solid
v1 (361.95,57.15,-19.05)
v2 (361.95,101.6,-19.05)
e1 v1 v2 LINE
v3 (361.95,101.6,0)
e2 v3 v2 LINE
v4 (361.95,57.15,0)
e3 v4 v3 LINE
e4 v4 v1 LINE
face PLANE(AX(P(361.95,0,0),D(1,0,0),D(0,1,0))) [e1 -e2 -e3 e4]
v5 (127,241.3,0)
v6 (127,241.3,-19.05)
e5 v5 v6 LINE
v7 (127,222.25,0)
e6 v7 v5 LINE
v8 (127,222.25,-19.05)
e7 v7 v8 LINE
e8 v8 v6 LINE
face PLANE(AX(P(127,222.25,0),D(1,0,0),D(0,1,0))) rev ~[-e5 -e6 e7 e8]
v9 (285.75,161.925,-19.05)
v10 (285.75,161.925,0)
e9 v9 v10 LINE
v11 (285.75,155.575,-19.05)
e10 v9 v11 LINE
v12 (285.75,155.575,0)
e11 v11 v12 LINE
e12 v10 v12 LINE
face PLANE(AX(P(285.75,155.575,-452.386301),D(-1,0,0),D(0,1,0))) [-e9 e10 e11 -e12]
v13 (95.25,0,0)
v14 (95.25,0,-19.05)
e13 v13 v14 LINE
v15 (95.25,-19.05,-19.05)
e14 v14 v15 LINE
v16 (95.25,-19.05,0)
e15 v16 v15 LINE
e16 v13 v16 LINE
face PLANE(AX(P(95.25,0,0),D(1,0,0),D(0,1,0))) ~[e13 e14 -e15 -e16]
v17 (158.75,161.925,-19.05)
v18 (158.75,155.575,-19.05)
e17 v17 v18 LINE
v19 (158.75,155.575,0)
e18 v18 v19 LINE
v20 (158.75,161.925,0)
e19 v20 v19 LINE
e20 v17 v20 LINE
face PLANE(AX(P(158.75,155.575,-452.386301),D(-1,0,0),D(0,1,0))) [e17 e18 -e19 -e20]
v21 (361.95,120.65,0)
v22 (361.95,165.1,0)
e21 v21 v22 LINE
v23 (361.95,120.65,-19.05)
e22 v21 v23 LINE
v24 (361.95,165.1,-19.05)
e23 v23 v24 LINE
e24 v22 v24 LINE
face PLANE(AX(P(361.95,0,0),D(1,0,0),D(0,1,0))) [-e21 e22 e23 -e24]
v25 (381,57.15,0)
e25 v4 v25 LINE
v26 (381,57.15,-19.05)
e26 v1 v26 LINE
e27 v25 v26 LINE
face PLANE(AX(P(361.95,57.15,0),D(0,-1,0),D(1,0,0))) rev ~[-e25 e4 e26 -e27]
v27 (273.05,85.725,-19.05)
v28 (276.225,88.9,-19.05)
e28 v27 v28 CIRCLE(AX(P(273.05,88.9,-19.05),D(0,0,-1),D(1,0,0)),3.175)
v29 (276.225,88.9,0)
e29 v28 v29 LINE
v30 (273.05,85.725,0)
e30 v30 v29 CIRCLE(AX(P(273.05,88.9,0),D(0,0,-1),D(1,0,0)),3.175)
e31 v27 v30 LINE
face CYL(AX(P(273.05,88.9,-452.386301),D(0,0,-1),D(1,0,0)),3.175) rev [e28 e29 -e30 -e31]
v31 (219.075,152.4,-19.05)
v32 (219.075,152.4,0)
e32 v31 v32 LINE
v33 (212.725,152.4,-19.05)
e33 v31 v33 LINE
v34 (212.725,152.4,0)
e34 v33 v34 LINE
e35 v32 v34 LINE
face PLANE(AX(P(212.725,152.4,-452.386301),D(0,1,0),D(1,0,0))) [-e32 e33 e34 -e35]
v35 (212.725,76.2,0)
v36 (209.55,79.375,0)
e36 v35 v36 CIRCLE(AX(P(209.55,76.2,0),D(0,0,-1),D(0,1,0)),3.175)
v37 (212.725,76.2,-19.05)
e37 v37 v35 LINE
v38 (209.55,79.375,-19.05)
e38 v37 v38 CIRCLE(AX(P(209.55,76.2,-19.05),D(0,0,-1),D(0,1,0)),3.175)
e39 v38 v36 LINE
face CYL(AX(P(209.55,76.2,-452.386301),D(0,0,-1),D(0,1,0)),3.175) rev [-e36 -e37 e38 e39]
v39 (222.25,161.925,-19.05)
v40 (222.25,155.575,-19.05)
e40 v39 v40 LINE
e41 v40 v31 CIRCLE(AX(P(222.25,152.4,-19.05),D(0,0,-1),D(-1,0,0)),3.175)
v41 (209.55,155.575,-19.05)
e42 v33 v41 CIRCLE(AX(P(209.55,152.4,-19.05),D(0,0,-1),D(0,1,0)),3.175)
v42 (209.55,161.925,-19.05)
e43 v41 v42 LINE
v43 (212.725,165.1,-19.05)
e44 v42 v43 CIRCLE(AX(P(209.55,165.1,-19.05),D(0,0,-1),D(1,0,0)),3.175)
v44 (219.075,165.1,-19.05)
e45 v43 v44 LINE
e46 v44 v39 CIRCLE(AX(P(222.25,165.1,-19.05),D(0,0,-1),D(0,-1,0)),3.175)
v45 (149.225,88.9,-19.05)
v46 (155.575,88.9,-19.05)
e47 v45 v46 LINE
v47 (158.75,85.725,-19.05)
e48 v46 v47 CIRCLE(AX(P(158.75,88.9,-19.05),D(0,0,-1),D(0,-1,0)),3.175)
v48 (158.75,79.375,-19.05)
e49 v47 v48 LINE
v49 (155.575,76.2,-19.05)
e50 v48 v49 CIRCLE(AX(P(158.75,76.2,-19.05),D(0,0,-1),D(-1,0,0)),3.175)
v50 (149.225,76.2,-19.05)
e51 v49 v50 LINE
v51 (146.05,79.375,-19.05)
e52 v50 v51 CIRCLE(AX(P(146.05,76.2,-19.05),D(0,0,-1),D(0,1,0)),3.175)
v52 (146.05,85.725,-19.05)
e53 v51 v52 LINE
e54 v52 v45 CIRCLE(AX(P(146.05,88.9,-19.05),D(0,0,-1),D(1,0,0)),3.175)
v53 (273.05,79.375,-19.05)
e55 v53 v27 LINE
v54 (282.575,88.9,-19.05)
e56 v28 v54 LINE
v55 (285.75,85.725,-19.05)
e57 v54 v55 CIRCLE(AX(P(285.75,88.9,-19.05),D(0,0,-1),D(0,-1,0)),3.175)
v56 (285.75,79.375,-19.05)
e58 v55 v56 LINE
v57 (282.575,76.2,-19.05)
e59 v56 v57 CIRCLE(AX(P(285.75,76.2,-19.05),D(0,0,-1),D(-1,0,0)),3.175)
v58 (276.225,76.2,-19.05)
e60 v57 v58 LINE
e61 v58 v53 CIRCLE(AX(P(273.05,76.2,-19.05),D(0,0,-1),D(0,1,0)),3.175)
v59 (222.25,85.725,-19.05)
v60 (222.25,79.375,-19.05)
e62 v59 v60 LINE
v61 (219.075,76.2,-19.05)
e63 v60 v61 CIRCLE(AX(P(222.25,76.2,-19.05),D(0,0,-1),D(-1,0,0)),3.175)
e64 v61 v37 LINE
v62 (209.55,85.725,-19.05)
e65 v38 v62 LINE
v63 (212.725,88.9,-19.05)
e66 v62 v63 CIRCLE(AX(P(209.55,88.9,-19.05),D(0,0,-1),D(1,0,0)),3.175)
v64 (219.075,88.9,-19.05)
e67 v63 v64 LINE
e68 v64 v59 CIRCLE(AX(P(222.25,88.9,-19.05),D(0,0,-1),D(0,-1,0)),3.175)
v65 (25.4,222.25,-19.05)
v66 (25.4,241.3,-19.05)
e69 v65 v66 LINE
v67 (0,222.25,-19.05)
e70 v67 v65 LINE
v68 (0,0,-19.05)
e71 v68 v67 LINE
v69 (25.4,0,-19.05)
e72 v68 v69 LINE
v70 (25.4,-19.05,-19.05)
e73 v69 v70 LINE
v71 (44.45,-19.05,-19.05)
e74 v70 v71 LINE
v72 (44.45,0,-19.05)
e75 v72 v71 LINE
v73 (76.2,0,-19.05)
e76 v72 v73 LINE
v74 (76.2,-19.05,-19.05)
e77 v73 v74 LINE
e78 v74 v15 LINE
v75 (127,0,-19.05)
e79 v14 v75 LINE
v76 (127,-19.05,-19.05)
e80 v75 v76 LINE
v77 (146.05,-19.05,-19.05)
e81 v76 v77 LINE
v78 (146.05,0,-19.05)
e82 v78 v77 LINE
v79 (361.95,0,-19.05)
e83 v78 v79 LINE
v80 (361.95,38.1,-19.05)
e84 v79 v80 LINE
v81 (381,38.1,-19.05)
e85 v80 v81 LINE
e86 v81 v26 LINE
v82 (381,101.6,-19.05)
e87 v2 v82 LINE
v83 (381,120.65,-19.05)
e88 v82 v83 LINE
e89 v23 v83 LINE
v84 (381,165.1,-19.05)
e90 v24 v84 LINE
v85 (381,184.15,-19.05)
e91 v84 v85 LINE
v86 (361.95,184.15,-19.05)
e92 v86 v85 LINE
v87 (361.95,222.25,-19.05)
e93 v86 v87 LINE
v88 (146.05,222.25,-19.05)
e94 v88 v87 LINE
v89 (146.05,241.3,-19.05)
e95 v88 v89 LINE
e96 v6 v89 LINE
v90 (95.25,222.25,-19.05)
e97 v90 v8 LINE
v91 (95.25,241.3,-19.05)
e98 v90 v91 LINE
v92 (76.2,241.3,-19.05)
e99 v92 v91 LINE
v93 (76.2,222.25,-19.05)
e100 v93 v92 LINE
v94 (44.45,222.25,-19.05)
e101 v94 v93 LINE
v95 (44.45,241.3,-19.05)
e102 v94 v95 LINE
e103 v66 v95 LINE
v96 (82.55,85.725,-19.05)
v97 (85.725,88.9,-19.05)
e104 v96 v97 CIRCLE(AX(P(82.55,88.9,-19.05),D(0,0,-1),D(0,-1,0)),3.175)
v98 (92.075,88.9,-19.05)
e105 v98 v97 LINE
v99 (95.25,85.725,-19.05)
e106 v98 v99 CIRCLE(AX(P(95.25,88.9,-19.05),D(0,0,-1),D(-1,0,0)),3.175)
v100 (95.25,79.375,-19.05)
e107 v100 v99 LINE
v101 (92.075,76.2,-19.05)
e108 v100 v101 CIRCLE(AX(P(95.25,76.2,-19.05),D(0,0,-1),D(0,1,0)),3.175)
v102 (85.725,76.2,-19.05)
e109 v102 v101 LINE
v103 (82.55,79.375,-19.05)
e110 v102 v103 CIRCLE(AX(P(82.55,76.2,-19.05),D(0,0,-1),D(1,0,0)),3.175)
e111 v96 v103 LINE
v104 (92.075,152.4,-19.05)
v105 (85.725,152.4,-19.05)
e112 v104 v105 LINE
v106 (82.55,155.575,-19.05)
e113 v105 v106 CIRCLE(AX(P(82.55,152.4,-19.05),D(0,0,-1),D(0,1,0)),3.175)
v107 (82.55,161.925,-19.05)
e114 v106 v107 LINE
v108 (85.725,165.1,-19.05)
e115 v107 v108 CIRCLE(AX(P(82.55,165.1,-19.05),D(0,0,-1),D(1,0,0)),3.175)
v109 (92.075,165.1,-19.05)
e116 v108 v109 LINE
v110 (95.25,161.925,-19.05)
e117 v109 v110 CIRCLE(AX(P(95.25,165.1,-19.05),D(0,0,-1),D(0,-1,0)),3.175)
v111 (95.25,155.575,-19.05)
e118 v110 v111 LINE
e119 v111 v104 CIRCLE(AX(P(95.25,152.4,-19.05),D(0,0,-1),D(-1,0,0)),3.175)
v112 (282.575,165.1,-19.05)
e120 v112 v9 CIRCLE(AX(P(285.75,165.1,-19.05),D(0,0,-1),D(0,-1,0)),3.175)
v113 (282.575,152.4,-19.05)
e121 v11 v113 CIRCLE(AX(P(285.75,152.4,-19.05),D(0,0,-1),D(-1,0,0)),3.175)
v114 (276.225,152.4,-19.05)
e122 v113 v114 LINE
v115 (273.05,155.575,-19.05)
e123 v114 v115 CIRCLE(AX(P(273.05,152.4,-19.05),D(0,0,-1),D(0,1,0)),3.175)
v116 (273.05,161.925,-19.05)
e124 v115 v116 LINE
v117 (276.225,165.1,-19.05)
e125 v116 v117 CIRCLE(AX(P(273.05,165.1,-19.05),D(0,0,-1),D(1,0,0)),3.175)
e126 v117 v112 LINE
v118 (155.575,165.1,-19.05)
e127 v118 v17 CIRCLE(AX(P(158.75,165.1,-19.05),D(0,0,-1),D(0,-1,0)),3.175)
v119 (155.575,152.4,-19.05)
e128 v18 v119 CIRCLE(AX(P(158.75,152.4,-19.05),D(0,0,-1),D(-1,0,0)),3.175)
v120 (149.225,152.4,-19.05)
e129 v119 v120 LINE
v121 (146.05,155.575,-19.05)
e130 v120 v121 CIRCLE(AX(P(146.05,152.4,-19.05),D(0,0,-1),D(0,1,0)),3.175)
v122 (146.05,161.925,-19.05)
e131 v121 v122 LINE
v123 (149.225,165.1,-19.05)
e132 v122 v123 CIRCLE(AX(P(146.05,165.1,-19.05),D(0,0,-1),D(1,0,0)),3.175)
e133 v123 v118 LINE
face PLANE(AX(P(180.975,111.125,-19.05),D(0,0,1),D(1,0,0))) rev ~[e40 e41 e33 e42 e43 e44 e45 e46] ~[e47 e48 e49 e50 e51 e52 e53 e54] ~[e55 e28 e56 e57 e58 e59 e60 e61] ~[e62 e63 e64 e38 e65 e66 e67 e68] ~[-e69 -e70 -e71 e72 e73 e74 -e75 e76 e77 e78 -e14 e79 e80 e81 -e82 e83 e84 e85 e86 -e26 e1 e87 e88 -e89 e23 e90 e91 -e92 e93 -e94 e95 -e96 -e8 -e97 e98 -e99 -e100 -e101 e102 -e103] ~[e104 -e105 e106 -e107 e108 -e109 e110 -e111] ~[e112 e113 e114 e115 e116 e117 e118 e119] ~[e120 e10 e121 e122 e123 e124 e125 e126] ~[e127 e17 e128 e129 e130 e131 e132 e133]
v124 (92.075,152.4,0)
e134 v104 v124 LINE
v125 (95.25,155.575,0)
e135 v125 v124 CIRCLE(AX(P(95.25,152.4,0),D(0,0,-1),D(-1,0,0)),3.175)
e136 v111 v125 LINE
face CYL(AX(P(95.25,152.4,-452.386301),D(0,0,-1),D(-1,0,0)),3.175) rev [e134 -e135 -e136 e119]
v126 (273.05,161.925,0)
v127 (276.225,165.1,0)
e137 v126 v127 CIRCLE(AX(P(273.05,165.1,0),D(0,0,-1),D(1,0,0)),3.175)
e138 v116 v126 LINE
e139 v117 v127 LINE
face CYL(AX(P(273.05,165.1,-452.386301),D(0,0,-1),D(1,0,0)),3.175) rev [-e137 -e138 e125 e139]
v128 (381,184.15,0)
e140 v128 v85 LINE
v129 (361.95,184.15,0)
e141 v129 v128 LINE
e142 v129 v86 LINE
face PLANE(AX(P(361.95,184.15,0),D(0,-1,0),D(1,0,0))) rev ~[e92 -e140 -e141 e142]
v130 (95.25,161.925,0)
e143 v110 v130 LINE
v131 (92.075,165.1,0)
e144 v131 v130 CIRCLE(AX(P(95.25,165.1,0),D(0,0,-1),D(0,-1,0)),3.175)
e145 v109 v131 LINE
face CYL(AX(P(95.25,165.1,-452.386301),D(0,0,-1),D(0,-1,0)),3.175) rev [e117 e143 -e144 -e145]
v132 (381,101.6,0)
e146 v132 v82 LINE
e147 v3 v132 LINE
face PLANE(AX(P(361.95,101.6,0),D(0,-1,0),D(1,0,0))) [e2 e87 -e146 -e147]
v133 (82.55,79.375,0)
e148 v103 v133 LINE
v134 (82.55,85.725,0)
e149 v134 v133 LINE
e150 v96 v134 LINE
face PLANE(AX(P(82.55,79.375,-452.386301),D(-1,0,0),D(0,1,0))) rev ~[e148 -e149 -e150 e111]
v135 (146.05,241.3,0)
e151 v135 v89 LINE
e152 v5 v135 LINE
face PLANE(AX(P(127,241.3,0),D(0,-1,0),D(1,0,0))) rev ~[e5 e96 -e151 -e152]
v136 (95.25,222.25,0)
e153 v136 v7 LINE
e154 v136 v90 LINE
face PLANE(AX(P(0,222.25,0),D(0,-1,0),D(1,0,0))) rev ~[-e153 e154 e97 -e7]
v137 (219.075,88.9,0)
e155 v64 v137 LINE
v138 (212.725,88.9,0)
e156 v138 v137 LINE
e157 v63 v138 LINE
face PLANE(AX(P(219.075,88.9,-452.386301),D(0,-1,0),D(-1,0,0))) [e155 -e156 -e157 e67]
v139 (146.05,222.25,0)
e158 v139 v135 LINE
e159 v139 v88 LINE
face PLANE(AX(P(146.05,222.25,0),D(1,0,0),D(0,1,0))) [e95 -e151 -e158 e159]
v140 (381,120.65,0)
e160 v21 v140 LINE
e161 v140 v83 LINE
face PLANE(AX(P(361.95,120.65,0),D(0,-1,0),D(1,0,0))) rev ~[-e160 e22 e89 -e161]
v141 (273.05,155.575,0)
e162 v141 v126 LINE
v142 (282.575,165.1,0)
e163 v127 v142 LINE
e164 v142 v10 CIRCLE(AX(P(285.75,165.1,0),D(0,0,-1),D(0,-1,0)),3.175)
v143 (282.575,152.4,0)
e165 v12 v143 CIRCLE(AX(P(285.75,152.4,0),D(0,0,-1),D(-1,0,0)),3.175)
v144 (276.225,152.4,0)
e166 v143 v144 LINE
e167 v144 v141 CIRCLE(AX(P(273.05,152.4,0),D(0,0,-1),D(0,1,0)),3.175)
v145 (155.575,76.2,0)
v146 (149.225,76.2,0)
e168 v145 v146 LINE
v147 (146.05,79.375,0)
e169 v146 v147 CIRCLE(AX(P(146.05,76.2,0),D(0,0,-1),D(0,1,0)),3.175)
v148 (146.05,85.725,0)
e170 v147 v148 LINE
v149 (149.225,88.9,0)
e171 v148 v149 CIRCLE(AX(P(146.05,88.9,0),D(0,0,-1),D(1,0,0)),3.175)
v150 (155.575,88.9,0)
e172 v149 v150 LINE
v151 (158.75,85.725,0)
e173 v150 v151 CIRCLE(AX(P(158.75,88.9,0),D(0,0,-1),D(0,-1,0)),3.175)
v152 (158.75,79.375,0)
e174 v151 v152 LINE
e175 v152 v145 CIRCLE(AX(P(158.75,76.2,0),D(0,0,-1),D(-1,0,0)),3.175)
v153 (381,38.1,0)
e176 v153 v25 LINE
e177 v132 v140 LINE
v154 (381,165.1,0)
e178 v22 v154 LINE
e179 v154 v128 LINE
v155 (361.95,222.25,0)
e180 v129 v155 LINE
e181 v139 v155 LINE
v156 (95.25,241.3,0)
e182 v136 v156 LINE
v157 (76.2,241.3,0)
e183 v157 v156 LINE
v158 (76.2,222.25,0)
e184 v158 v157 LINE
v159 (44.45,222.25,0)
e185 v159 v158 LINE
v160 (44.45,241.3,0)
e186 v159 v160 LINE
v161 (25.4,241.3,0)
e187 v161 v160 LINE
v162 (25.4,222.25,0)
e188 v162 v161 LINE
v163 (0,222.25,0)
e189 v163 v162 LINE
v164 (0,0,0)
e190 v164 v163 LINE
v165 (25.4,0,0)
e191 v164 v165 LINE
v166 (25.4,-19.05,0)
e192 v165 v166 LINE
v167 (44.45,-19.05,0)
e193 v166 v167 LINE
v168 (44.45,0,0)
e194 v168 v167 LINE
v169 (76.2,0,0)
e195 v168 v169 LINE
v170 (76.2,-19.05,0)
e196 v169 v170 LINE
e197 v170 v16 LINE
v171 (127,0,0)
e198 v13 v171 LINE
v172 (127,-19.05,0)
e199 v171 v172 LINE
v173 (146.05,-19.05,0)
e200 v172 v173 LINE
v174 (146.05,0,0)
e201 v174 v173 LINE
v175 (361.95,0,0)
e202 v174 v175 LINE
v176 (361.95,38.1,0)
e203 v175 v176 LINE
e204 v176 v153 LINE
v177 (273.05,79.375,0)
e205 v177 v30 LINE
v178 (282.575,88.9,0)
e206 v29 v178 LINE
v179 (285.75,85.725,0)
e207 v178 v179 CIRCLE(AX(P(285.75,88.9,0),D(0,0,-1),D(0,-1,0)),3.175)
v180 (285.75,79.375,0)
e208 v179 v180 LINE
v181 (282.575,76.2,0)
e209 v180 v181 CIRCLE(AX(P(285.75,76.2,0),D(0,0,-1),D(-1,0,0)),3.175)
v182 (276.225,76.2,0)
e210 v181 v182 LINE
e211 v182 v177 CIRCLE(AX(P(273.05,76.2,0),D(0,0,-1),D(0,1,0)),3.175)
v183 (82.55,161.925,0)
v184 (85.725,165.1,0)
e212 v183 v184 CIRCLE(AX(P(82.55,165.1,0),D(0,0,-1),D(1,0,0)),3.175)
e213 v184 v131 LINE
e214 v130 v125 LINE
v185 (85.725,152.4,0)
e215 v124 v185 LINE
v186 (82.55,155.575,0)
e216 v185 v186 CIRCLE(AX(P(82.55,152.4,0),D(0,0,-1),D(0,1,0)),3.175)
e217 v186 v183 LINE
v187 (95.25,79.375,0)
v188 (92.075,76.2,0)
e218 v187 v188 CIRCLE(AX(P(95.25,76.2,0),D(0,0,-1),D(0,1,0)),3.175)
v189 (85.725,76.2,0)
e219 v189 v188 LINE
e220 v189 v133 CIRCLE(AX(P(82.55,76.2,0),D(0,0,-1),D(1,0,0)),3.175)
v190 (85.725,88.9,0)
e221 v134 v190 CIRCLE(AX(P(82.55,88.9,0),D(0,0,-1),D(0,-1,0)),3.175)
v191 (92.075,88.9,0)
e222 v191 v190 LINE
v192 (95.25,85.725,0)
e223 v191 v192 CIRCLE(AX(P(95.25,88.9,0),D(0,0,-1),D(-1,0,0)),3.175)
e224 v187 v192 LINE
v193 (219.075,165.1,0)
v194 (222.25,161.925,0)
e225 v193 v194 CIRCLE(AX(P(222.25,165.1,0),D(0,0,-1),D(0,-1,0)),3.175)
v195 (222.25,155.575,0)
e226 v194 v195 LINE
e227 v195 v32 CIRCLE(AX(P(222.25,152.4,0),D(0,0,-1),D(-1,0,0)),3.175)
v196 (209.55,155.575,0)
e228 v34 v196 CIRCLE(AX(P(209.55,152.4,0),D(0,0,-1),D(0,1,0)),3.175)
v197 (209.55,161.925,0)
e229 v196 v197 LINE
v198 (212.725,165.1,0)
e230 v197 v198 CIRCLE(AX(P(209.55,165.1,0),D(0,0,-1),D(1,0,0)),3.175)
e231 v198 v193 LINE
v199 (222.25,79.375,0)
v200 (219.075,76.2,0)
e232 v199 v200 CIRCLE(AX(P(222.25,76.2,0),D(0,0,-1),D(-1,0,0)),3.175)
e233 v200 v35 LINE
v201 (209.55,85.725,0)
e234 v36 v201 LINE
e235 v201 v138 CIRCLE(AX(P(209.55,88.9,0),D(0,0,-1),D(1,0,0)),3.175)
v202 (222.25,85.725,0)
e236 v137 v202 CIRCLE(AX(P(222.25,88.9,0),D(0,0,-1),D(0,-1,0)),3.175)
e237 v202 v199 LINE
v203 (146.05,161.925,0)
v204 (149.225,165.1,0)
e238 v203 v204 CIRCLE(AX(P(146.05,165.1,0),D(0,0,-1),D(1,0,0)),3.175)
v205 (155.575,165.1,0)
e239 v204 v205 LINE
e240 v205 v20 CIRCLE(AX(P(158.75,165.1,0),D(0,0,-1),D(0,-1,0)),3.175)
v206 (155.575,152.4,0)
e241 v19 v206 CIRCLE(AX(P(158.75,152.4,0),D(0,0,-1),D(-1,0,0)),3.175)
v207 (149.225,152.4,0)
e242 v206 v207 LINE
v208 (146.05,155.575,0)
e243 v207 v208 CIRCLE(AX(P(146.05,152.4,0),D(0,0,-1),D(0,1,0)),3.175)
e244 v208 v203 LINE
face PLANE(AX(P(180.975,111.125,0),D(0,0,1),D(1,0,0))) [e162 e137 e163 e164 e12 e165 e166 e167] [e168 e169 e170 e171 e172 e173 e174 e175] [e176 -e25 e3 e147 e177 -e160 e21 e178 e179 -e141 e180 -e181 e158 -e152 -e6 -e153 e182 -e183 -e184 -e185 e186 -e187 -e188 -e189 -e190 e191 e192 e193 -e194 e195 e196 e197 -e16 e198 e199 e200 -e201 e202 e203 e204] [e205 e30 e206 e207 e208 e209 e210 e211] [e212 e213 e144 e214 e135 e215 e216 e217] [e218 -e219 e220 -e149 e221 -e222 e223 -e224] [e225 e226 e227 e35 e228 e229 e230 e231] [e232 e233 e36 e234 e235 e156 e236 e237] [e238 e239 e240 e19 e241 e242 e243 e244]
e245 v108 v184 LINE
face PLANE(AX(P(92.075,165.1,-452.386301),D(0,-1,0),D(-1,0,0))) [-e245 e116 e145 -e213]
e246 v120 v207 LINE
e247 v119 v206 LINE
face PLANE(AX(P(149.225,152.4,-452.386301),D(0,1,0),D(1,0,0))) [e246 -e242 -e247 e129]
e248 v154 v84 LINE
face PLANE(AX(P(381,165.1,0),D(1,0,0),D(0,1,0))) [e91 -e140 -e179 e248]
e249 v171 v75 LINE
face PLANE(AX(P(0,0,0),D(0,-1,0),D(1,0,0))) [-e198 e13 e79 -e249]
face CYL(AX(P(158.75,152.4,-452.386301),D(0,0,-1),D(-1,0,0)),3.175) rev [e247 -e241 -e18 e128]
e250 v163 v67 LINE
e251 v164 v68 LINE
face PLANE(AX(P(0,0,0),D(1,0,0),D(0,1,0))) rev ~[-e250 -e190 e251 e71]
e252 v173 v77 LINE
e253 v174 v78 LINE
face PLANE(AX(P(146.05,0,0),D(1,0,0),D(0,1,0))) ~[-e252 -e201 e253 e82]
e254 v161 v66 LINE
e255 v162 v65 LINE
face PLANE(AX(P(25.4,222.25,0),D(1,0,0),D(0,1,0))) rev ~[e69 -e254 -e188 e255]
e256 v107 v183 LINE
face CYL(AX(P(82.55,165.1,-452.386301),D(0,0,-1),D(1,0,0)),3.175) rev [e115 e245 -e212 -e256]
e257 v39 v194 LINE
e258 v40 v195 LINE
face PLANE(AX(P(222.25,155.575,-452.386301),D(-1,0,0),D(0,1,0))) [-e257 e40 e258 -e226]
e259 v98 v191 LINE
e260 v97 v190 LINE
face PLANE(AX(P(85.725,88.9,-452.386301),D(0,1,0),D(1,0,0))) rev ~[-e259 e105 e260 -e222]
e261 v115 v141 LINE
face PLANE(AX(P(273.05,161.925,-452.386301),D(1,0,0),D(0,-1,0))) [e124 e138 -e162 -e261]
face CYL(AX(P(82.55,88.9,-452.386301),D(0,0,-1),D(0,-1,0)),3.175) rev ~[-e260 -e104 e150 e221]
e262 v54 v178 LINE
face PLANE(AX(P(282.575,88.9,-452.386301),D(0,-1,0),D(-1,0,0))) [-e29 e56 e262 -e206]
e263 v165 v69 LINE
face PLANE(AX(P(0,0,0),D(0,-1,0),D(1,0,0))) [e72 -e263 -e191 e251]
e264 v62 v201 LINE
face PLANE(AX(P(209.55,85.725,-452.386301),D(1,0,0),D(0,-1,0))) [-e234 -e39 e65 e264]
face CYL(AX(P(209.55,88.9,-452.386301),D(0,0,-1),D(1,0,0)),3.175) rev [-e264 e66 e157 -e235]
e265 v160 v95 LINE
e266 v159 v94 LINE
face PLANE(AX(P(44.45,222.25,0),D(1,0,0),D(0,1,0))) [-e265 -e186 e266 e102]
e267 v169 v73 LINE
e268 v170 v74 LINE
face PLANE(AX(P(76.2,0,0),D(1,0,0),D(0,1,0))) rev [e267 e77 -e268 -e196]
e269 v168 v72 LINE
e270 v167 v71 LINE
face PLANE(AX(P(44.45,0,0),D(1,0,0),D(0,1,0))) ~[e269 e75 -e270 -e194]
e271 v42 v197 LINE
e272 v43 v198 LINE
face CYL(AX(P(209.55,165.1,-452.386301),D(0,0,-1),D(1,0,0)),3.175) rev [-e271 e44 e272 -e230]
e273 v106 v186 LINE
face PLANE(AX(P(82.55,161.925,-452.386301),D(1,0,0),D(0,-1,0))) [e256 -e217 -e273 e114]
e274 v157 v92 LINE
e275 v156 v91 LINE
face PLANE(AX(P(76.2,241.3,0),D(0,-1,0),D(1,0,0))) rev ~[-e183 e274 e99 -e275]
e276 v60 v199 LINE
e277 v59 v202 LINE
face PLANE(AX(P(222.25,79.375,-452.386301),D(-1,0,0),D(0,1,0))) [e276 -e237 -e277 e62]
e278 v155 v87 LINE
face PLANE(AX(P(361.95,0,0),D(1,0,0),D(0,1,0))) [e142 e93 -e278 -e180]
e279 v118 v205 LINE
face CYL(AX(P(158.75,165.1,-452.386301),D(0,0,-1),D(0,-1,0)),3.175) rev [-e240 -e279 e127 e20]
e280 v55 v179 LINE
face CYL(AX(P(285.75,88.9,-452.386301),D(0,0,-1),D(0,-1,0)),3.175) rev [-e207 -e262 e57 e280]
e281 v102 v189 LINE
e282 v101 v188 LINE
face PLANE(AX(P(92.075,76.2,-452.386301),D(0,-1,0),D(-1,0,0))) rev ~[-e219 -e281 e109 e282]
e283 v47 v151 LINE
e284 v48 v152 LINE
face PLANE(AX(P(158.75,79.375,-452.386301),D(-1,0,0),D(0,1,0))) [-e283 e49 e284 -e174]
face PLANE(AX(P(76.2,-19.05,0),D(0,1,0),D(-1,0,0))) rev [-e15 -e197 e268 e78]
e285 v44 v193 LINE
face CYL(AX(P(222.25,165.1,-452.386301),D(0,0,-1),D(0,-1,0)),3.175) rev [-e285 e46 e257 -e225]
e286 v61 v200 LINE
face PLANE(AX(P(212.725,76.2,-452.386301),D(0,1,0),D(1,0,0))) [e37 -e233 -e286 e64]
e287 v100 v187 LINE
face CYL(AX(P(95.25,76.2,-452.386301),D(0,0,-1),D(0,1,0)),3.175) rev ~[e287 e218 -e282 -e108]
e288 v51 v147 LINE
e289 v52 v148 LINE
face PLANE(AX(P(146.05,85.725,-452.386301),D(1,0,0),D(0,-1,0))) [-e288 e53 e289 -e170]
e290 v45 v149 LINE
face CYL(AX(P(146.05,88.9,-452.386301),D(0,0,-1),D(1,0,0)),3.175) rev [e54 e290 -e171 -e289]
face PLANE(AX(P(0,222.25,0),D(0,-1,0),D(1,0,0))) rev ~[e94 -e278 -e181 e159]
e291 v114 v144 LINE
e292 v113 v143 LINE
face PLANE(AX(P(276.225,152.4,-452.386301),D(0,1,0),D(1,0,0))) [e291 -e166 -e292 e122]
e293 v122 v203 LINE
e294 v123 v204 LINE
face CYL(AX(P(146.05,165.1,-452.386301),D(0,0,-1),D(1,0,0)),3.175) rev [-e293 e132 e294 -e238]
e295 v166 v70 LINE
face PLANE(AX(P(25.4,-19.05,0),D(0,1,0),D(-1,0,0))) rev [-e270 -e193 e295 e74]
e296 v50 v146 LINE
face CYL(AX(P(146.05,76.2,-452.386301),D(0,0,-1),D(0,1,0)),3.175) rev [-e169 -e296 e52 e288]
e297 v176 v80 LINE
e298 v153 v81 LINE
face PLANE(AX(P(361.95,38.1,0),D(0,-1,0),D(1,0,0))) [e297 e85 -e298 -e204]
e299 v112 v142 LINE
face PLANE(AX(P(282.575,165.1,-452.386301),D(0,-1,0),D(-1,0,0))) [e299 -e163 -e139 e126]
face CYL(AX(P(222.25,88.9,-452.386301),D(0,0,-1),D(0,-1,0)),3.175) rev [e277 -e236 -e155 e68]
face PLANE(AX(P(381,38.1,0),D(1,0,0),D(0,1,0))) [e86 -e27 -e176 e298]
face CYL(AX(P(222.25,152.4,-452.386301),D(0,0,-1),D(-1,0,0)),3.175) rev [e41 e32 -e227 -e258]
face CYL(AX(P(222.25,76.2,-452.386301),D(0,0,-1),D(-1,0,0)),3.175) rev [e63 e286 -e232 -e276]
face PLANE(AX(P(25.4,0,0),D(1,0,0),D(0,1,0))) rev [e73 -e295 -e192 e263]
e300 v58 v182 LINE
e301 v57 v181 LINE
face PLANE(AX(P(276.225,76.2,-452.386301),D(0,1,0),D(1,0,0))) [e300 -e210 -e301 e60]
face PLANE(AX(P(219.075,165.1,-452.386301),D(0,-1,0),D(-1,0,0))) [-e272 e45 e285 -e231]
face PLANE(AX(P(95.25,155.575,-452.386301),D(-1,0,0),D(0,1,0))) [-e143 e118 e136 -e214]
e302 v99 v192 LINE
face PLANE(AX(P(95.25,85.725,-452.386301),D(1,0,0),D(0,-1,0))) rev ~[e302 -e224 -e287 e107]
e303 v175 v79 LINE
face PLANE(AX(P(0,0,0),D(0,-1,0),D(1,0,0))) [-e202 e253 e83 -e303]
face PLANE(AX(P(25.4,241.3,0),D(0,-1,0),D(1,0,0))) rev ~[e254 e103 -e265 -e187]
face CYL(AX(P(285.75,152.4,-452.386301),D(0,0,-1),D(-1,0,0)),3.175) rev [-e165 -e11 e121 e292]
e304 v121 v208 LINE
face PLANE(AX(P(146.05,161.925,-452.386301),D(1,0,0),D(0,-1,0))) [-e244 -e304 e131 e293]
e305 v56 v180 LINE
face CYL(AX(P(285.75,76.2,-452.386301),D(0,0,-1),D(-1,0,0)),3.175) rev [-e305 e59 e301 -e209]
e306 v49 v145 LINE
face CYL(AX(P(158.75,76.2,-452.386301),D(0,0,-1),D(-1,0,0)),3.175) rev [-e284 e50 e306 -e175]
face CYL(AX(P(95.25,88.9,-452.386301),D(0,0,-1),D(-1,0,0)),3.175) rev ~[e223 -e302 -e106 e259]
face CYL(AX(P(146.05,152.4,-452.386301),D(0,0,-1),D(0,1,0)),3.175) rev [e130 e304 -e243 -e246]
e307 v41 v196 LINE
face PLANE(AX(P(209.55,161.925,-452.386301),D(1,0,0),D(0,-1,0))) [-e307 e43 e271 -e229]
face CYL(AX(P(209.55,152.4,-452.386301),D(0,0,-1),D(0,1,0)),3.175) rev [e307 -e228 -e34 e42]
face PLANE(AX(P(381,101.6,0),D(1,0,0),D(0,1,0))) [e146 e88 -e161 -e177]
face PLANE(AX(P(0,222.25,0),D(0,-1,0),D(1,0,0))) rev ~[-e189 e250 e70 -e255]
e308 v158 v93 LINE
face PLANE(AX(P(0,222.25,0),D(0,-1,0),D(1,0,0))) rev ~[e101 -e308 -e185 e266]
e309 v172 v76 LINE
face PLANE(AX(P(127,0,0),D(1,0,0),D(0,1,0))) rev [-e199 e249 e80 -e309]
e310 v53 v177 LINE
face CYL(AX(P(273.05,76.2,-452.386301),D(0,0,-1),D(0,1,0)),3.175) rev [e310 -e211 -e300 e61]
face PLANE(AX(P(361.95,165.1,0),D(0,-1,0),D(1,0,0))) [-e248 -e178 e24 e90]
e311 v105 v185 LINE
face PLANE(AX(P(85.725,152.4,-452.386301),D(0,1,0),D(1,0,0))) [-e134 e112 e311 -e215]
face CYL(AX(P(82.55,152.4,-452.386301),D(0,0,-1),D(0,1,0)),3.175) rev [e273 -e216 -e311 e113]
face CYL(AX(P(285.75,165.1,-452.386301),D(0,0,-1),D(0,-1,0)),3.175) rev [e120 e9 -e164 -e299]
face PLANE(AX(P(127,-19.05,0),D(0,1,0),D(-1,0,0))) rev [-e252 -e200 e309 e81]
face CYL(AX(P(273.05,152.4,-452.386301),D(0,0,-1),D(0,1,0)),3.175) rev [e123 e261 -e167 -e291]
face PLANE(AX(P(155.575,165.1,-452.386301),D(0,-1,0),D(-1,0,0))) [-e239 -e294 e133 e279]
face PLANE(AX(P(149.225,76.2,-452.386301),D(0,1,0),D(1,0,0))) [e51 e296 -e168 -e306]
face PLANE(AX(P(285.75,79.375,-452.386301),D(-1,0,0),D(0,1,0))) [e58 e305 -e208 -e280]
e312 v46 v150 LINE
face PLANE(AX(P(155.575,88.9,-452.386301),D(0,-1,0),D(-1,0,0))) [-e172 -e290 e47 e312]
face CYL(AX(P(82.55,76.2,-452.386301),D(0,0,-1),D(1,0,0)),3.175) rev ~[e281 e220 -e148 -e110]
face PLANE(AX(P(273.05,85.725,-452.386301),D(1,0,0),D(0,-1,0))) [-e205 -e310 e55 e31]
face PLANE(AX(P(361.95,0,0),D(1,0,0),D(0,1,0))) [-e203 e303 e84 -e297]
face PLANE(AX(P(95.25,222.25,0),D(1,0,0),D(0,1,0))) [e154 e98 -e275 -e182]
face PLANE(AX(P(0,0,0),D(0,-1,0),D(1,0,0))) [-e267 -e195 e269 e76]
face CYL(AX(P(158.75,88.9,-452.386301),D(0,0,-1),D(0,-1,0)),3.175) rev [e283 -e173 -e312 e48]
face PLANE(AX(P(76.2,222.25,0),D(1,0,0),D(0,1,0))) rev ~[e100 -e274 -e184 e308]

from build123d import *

# Parameters (mm, degrees)
SKETCH1_W               = 361.95
SKETCH1_H               = 222.25
BOSS_EXTRUDE1_DEPTH     = 19.05
SKETCH3_W               = 19.05
SKETCH3_H               = 19.05
BOSS_EXTRUDE4_DEPTH     = 19.05
SKETCH5_W               = 19.05
SKETCH5_H               = 19.05
BOSS_EXTRUDE5_DEPTH     = 19.05
CUT_EXTRUDE2_DEPTH      = 452.386300745
CUT_EXTRUDE2_DEPTH_BACK = 452.386300745


with BuildPart() as part:
    # Sketch1 → Boss-Extrude1 (new body)
    with BuildSketch(Plane.XY):
        with Locations((180.975, 111.125)):
            Rectangle(SKETCH1_W, SKETCH1_H)
    extrude(amount=-BOSS_EXTRUDE1_DEPTH)

    # Sketch3 → Boss-Extrude4 (add)
    with BuildSketch(Plane.XY):
        with Locations((34.925, 231.775)):
            Rectangle(SKETCH3_W, SKETCH3_H)
        with Locations((85.725, 231.775)):
            Rectangle(SKETCH3_W, SKETCH3_H)
        with Locations((136.525, 231.775)):
            Rectangle(SKETCH3_W, SKETCH3_H)
    boss_extrude4 = extrude(amount=-BOSS_EXTRUDE4_DEPTH)

    # Mirror1: Boss-Extrude4 across plane
    add(boss_extrude4.mirror(Plane.ZX.offset(111.125)))

    # Sketch5 → Boss-Extrude5 (add)
    with BuildSketch(Plane.XY):
        with Locations((371.475, 174.625)):
            Rectangle(SKETCH5_W, SKETCH5_H)
        with Locations((371.475, 47.625)):
            Rectangle(SKETCH5_W, SKETCH5_H)
        with Locations((371.475, 111.125)):
            Rectangle(SKETCH5_W, SKETCH5_H)
    extrude(amount=-BOSS_EXTRUDE5_DEPTH)

    # Sketch6 → Cut-Extrude2 (cut, two sides: drawn at the far end of the back side and taken through both)
    with BuildSketch(Plane.XY.offset(-CUT_EXTRUDE2_DEPTH_BACK)):
        with BuildLine():
            Line((85.725, 88.9), (92.075, 88.9))
            ThreePointArc((92.075, 88.9), (97.49506403, 91.14506403), (95.25, 85.725))
            Line((95.25, 85.725), (95.25, 79.375))
            ThreePointArc((95.25, 79.375), (97.49506403, 73.95493597), (92.075, 76.2))
            Line((92.075, 76.2), (85.725, 76.2))
            ThreePointArc((85.725, 76.2), (80.30493597, 73.95493597), (82.55, 79.375))
            Line((82.55, 79.375), (82.55, 85.725))
            ThreePointArc((82.55, 85.725), (80.30493597, 91.14506403), (85.725, 88.9))
        make_face()
        with BuildLine():
            Line((149.225, 76.2), (155.575, 76.2))
            ThreePointArc((155.575, 76.2), (160.99506403, 73.95493597), (158.75, 79.375))
            Line((158.75, 79.375), (158.75, 85.725))
            ThreePointArc((158.75, 85.725), (160.99506403, 91.14506403), (155.575, 88.9))
            Line((155.575, 88.9), (149.225, 88.9))
            ThreePointArc((149.225, 88.9), (143.80493597, 91.14506403), (146.05, 85.725))
            Line((146.05, 85.725), (146.05, 79.375))
            ThreePointArc((146.05, 79.375), (143.80493597, 73.95493597), (149.225, 76.2))
        make_face()
        with BuildLine():
            Line((212.725, 76.2), (219.075, 76.2))
            ThreePointArc((219.075, 76.2), (224.49506403, 73.95493597), (222.25, 79.375))
            Line((222.25, 79.375), (222.25, 85.725))
            ThreePointArc((222.25, 85.725), (224.49506403, 91.14506403), (219.075, 88.9))
            Line((219.075, 88.9), (212.725, 88.9))
            ThreePointArc((212.725, 88.9), (207.30493597, 91.14506403), (209.55, 85.725))
            Line((209.55, 85.725), (209.55, 79.375))
            ThreePointArc((209.55, 79.375), (207.30493597, 73.95493597), (212.725, 76.2))
        make_face()
        with BuildLine():
            Line((276.225, 76.2), (282.575, 76.2))
            ThreePointArc((282.575, 76.2), (287.99506403, 73.95493597), (285.75, 79.375))
            Line((285.75, 79.375), (285.75, 85.725))
            ThreePointArc((285.75, 85.725), (287.99506403, 91.14506403), (282.575, 88.9))
            Line((282.575, 88.9), (276.225, 88.9))
            ThreePointArc((276.225, 88.9), (270.80493597, 91.14506403), (273.05, 85.725))
            Line((273.05, 85.725), (273.05, 79.375))
            ThreePointArc((273.05, 79.375), (270.80493597, 73.95493597), (276.225, 76.2))
        make_face()
        with BuildLine():
            Line((149.225, 152.4), (155.575, 152.4))
            ThreePointArc((155.575, 152.4), (160.99506403, 150.15493597), (158.75, 155.575))
            Line((158.75, 155.575), (158.75, 161.925))
            ThreePointArc((158.75, 161.925), (160.99506403, 167.34506403), (155.575, 165.1))
            Line((155.575, 165.1), (149.225, 165.1))
            ThreePointArc((149.225, 165.1), (143.80493597, 167.34506403), (146.05, 161.925))
            Line((146.05, 161.925), (146.05, 155.575))
            ThreePointArc((146.05, 155.575), (143.80493597, 150.15493597), (149.225, 152.4))
        make_face()
        with BuildLine():
            Line((212.725, 152.4), (219.075, 152.4))
            ThreePointArc((219.075, 152.4), (224.49506403, 150.15493597), (222.25, 155.575))
            Line((222.25, 155.575), (222.25, 161.925))
            ThreePointArc((222.25, 161.925), (224.49506403, 167.34506403), (219.075, 165.1))
            Line((219.075, 165.1), (212.725, 165.1))
            ThreePointArc((212.725, 165.1), (207.30493597, 167.34506403), (209.55, 161.925))
            Line((209.55, 161.925), (209.55, 155.575))
            ThreePointArc((209.55, 155.575), (207.30493597, 150.15493597), (212.725, 152.4))
        make_face()
        with BuildLine():
            Line((276.225, 152.4), (282.575, 152.4))
            ThreePointArc((282.575, 152.4), (287.99506403, 150.15493597), (285.75, 155.575))
            Line((285.75, 155.575), (285.75, 161.925))
            ThreePointArc((285.75, 161.925), (287.99506403, 167.34506403), (282.575, 165.1))
            Line((282.575, 165.1), (276.225, 165.1))
            ThreePointArc((276.225, 165.1), (270.80493597, 167.34506403), (273.05, 161.925))
            Line((273.05, 161.925), (273.05, 155.575))
            ThreePointArc((273.05, 155.575), (270.80493597, 150.15493597), (276.225, 152.4))
        make_face()
        with BuildLine():
            Line((85.725, 152.4), (92.075, 152.4))
            ThreePointArc((92.075, 152.4), (97.49506403, 150.15493597), (95.25, 155.575))
            Line((95.25, 155.575), (95.25, 161.925))
            ThreePointArc((95.25, 161.925), (97.49506403, 167.34506403), (92.075, 165.1))
            Line((92.075, 165.1), (85.725, 165.1))
            ThreePointArc((85.725, 165.1), (80.30493597, 167.34506403), (82.55, 161.925))
            Line((82.55, 161.925), (82.55, 155.575))
            ThreePointArc((82.55, 155.575), (80.30493597, 150.15493597), (85.725, 152.4))
        make_face()
    extrude(amount=CUT_EXTRUDE2_DEPTH + CUT_EXTRUDE2_DEPTH_BACK, mode=Mode.SUBTRACT)


solid = part.part
